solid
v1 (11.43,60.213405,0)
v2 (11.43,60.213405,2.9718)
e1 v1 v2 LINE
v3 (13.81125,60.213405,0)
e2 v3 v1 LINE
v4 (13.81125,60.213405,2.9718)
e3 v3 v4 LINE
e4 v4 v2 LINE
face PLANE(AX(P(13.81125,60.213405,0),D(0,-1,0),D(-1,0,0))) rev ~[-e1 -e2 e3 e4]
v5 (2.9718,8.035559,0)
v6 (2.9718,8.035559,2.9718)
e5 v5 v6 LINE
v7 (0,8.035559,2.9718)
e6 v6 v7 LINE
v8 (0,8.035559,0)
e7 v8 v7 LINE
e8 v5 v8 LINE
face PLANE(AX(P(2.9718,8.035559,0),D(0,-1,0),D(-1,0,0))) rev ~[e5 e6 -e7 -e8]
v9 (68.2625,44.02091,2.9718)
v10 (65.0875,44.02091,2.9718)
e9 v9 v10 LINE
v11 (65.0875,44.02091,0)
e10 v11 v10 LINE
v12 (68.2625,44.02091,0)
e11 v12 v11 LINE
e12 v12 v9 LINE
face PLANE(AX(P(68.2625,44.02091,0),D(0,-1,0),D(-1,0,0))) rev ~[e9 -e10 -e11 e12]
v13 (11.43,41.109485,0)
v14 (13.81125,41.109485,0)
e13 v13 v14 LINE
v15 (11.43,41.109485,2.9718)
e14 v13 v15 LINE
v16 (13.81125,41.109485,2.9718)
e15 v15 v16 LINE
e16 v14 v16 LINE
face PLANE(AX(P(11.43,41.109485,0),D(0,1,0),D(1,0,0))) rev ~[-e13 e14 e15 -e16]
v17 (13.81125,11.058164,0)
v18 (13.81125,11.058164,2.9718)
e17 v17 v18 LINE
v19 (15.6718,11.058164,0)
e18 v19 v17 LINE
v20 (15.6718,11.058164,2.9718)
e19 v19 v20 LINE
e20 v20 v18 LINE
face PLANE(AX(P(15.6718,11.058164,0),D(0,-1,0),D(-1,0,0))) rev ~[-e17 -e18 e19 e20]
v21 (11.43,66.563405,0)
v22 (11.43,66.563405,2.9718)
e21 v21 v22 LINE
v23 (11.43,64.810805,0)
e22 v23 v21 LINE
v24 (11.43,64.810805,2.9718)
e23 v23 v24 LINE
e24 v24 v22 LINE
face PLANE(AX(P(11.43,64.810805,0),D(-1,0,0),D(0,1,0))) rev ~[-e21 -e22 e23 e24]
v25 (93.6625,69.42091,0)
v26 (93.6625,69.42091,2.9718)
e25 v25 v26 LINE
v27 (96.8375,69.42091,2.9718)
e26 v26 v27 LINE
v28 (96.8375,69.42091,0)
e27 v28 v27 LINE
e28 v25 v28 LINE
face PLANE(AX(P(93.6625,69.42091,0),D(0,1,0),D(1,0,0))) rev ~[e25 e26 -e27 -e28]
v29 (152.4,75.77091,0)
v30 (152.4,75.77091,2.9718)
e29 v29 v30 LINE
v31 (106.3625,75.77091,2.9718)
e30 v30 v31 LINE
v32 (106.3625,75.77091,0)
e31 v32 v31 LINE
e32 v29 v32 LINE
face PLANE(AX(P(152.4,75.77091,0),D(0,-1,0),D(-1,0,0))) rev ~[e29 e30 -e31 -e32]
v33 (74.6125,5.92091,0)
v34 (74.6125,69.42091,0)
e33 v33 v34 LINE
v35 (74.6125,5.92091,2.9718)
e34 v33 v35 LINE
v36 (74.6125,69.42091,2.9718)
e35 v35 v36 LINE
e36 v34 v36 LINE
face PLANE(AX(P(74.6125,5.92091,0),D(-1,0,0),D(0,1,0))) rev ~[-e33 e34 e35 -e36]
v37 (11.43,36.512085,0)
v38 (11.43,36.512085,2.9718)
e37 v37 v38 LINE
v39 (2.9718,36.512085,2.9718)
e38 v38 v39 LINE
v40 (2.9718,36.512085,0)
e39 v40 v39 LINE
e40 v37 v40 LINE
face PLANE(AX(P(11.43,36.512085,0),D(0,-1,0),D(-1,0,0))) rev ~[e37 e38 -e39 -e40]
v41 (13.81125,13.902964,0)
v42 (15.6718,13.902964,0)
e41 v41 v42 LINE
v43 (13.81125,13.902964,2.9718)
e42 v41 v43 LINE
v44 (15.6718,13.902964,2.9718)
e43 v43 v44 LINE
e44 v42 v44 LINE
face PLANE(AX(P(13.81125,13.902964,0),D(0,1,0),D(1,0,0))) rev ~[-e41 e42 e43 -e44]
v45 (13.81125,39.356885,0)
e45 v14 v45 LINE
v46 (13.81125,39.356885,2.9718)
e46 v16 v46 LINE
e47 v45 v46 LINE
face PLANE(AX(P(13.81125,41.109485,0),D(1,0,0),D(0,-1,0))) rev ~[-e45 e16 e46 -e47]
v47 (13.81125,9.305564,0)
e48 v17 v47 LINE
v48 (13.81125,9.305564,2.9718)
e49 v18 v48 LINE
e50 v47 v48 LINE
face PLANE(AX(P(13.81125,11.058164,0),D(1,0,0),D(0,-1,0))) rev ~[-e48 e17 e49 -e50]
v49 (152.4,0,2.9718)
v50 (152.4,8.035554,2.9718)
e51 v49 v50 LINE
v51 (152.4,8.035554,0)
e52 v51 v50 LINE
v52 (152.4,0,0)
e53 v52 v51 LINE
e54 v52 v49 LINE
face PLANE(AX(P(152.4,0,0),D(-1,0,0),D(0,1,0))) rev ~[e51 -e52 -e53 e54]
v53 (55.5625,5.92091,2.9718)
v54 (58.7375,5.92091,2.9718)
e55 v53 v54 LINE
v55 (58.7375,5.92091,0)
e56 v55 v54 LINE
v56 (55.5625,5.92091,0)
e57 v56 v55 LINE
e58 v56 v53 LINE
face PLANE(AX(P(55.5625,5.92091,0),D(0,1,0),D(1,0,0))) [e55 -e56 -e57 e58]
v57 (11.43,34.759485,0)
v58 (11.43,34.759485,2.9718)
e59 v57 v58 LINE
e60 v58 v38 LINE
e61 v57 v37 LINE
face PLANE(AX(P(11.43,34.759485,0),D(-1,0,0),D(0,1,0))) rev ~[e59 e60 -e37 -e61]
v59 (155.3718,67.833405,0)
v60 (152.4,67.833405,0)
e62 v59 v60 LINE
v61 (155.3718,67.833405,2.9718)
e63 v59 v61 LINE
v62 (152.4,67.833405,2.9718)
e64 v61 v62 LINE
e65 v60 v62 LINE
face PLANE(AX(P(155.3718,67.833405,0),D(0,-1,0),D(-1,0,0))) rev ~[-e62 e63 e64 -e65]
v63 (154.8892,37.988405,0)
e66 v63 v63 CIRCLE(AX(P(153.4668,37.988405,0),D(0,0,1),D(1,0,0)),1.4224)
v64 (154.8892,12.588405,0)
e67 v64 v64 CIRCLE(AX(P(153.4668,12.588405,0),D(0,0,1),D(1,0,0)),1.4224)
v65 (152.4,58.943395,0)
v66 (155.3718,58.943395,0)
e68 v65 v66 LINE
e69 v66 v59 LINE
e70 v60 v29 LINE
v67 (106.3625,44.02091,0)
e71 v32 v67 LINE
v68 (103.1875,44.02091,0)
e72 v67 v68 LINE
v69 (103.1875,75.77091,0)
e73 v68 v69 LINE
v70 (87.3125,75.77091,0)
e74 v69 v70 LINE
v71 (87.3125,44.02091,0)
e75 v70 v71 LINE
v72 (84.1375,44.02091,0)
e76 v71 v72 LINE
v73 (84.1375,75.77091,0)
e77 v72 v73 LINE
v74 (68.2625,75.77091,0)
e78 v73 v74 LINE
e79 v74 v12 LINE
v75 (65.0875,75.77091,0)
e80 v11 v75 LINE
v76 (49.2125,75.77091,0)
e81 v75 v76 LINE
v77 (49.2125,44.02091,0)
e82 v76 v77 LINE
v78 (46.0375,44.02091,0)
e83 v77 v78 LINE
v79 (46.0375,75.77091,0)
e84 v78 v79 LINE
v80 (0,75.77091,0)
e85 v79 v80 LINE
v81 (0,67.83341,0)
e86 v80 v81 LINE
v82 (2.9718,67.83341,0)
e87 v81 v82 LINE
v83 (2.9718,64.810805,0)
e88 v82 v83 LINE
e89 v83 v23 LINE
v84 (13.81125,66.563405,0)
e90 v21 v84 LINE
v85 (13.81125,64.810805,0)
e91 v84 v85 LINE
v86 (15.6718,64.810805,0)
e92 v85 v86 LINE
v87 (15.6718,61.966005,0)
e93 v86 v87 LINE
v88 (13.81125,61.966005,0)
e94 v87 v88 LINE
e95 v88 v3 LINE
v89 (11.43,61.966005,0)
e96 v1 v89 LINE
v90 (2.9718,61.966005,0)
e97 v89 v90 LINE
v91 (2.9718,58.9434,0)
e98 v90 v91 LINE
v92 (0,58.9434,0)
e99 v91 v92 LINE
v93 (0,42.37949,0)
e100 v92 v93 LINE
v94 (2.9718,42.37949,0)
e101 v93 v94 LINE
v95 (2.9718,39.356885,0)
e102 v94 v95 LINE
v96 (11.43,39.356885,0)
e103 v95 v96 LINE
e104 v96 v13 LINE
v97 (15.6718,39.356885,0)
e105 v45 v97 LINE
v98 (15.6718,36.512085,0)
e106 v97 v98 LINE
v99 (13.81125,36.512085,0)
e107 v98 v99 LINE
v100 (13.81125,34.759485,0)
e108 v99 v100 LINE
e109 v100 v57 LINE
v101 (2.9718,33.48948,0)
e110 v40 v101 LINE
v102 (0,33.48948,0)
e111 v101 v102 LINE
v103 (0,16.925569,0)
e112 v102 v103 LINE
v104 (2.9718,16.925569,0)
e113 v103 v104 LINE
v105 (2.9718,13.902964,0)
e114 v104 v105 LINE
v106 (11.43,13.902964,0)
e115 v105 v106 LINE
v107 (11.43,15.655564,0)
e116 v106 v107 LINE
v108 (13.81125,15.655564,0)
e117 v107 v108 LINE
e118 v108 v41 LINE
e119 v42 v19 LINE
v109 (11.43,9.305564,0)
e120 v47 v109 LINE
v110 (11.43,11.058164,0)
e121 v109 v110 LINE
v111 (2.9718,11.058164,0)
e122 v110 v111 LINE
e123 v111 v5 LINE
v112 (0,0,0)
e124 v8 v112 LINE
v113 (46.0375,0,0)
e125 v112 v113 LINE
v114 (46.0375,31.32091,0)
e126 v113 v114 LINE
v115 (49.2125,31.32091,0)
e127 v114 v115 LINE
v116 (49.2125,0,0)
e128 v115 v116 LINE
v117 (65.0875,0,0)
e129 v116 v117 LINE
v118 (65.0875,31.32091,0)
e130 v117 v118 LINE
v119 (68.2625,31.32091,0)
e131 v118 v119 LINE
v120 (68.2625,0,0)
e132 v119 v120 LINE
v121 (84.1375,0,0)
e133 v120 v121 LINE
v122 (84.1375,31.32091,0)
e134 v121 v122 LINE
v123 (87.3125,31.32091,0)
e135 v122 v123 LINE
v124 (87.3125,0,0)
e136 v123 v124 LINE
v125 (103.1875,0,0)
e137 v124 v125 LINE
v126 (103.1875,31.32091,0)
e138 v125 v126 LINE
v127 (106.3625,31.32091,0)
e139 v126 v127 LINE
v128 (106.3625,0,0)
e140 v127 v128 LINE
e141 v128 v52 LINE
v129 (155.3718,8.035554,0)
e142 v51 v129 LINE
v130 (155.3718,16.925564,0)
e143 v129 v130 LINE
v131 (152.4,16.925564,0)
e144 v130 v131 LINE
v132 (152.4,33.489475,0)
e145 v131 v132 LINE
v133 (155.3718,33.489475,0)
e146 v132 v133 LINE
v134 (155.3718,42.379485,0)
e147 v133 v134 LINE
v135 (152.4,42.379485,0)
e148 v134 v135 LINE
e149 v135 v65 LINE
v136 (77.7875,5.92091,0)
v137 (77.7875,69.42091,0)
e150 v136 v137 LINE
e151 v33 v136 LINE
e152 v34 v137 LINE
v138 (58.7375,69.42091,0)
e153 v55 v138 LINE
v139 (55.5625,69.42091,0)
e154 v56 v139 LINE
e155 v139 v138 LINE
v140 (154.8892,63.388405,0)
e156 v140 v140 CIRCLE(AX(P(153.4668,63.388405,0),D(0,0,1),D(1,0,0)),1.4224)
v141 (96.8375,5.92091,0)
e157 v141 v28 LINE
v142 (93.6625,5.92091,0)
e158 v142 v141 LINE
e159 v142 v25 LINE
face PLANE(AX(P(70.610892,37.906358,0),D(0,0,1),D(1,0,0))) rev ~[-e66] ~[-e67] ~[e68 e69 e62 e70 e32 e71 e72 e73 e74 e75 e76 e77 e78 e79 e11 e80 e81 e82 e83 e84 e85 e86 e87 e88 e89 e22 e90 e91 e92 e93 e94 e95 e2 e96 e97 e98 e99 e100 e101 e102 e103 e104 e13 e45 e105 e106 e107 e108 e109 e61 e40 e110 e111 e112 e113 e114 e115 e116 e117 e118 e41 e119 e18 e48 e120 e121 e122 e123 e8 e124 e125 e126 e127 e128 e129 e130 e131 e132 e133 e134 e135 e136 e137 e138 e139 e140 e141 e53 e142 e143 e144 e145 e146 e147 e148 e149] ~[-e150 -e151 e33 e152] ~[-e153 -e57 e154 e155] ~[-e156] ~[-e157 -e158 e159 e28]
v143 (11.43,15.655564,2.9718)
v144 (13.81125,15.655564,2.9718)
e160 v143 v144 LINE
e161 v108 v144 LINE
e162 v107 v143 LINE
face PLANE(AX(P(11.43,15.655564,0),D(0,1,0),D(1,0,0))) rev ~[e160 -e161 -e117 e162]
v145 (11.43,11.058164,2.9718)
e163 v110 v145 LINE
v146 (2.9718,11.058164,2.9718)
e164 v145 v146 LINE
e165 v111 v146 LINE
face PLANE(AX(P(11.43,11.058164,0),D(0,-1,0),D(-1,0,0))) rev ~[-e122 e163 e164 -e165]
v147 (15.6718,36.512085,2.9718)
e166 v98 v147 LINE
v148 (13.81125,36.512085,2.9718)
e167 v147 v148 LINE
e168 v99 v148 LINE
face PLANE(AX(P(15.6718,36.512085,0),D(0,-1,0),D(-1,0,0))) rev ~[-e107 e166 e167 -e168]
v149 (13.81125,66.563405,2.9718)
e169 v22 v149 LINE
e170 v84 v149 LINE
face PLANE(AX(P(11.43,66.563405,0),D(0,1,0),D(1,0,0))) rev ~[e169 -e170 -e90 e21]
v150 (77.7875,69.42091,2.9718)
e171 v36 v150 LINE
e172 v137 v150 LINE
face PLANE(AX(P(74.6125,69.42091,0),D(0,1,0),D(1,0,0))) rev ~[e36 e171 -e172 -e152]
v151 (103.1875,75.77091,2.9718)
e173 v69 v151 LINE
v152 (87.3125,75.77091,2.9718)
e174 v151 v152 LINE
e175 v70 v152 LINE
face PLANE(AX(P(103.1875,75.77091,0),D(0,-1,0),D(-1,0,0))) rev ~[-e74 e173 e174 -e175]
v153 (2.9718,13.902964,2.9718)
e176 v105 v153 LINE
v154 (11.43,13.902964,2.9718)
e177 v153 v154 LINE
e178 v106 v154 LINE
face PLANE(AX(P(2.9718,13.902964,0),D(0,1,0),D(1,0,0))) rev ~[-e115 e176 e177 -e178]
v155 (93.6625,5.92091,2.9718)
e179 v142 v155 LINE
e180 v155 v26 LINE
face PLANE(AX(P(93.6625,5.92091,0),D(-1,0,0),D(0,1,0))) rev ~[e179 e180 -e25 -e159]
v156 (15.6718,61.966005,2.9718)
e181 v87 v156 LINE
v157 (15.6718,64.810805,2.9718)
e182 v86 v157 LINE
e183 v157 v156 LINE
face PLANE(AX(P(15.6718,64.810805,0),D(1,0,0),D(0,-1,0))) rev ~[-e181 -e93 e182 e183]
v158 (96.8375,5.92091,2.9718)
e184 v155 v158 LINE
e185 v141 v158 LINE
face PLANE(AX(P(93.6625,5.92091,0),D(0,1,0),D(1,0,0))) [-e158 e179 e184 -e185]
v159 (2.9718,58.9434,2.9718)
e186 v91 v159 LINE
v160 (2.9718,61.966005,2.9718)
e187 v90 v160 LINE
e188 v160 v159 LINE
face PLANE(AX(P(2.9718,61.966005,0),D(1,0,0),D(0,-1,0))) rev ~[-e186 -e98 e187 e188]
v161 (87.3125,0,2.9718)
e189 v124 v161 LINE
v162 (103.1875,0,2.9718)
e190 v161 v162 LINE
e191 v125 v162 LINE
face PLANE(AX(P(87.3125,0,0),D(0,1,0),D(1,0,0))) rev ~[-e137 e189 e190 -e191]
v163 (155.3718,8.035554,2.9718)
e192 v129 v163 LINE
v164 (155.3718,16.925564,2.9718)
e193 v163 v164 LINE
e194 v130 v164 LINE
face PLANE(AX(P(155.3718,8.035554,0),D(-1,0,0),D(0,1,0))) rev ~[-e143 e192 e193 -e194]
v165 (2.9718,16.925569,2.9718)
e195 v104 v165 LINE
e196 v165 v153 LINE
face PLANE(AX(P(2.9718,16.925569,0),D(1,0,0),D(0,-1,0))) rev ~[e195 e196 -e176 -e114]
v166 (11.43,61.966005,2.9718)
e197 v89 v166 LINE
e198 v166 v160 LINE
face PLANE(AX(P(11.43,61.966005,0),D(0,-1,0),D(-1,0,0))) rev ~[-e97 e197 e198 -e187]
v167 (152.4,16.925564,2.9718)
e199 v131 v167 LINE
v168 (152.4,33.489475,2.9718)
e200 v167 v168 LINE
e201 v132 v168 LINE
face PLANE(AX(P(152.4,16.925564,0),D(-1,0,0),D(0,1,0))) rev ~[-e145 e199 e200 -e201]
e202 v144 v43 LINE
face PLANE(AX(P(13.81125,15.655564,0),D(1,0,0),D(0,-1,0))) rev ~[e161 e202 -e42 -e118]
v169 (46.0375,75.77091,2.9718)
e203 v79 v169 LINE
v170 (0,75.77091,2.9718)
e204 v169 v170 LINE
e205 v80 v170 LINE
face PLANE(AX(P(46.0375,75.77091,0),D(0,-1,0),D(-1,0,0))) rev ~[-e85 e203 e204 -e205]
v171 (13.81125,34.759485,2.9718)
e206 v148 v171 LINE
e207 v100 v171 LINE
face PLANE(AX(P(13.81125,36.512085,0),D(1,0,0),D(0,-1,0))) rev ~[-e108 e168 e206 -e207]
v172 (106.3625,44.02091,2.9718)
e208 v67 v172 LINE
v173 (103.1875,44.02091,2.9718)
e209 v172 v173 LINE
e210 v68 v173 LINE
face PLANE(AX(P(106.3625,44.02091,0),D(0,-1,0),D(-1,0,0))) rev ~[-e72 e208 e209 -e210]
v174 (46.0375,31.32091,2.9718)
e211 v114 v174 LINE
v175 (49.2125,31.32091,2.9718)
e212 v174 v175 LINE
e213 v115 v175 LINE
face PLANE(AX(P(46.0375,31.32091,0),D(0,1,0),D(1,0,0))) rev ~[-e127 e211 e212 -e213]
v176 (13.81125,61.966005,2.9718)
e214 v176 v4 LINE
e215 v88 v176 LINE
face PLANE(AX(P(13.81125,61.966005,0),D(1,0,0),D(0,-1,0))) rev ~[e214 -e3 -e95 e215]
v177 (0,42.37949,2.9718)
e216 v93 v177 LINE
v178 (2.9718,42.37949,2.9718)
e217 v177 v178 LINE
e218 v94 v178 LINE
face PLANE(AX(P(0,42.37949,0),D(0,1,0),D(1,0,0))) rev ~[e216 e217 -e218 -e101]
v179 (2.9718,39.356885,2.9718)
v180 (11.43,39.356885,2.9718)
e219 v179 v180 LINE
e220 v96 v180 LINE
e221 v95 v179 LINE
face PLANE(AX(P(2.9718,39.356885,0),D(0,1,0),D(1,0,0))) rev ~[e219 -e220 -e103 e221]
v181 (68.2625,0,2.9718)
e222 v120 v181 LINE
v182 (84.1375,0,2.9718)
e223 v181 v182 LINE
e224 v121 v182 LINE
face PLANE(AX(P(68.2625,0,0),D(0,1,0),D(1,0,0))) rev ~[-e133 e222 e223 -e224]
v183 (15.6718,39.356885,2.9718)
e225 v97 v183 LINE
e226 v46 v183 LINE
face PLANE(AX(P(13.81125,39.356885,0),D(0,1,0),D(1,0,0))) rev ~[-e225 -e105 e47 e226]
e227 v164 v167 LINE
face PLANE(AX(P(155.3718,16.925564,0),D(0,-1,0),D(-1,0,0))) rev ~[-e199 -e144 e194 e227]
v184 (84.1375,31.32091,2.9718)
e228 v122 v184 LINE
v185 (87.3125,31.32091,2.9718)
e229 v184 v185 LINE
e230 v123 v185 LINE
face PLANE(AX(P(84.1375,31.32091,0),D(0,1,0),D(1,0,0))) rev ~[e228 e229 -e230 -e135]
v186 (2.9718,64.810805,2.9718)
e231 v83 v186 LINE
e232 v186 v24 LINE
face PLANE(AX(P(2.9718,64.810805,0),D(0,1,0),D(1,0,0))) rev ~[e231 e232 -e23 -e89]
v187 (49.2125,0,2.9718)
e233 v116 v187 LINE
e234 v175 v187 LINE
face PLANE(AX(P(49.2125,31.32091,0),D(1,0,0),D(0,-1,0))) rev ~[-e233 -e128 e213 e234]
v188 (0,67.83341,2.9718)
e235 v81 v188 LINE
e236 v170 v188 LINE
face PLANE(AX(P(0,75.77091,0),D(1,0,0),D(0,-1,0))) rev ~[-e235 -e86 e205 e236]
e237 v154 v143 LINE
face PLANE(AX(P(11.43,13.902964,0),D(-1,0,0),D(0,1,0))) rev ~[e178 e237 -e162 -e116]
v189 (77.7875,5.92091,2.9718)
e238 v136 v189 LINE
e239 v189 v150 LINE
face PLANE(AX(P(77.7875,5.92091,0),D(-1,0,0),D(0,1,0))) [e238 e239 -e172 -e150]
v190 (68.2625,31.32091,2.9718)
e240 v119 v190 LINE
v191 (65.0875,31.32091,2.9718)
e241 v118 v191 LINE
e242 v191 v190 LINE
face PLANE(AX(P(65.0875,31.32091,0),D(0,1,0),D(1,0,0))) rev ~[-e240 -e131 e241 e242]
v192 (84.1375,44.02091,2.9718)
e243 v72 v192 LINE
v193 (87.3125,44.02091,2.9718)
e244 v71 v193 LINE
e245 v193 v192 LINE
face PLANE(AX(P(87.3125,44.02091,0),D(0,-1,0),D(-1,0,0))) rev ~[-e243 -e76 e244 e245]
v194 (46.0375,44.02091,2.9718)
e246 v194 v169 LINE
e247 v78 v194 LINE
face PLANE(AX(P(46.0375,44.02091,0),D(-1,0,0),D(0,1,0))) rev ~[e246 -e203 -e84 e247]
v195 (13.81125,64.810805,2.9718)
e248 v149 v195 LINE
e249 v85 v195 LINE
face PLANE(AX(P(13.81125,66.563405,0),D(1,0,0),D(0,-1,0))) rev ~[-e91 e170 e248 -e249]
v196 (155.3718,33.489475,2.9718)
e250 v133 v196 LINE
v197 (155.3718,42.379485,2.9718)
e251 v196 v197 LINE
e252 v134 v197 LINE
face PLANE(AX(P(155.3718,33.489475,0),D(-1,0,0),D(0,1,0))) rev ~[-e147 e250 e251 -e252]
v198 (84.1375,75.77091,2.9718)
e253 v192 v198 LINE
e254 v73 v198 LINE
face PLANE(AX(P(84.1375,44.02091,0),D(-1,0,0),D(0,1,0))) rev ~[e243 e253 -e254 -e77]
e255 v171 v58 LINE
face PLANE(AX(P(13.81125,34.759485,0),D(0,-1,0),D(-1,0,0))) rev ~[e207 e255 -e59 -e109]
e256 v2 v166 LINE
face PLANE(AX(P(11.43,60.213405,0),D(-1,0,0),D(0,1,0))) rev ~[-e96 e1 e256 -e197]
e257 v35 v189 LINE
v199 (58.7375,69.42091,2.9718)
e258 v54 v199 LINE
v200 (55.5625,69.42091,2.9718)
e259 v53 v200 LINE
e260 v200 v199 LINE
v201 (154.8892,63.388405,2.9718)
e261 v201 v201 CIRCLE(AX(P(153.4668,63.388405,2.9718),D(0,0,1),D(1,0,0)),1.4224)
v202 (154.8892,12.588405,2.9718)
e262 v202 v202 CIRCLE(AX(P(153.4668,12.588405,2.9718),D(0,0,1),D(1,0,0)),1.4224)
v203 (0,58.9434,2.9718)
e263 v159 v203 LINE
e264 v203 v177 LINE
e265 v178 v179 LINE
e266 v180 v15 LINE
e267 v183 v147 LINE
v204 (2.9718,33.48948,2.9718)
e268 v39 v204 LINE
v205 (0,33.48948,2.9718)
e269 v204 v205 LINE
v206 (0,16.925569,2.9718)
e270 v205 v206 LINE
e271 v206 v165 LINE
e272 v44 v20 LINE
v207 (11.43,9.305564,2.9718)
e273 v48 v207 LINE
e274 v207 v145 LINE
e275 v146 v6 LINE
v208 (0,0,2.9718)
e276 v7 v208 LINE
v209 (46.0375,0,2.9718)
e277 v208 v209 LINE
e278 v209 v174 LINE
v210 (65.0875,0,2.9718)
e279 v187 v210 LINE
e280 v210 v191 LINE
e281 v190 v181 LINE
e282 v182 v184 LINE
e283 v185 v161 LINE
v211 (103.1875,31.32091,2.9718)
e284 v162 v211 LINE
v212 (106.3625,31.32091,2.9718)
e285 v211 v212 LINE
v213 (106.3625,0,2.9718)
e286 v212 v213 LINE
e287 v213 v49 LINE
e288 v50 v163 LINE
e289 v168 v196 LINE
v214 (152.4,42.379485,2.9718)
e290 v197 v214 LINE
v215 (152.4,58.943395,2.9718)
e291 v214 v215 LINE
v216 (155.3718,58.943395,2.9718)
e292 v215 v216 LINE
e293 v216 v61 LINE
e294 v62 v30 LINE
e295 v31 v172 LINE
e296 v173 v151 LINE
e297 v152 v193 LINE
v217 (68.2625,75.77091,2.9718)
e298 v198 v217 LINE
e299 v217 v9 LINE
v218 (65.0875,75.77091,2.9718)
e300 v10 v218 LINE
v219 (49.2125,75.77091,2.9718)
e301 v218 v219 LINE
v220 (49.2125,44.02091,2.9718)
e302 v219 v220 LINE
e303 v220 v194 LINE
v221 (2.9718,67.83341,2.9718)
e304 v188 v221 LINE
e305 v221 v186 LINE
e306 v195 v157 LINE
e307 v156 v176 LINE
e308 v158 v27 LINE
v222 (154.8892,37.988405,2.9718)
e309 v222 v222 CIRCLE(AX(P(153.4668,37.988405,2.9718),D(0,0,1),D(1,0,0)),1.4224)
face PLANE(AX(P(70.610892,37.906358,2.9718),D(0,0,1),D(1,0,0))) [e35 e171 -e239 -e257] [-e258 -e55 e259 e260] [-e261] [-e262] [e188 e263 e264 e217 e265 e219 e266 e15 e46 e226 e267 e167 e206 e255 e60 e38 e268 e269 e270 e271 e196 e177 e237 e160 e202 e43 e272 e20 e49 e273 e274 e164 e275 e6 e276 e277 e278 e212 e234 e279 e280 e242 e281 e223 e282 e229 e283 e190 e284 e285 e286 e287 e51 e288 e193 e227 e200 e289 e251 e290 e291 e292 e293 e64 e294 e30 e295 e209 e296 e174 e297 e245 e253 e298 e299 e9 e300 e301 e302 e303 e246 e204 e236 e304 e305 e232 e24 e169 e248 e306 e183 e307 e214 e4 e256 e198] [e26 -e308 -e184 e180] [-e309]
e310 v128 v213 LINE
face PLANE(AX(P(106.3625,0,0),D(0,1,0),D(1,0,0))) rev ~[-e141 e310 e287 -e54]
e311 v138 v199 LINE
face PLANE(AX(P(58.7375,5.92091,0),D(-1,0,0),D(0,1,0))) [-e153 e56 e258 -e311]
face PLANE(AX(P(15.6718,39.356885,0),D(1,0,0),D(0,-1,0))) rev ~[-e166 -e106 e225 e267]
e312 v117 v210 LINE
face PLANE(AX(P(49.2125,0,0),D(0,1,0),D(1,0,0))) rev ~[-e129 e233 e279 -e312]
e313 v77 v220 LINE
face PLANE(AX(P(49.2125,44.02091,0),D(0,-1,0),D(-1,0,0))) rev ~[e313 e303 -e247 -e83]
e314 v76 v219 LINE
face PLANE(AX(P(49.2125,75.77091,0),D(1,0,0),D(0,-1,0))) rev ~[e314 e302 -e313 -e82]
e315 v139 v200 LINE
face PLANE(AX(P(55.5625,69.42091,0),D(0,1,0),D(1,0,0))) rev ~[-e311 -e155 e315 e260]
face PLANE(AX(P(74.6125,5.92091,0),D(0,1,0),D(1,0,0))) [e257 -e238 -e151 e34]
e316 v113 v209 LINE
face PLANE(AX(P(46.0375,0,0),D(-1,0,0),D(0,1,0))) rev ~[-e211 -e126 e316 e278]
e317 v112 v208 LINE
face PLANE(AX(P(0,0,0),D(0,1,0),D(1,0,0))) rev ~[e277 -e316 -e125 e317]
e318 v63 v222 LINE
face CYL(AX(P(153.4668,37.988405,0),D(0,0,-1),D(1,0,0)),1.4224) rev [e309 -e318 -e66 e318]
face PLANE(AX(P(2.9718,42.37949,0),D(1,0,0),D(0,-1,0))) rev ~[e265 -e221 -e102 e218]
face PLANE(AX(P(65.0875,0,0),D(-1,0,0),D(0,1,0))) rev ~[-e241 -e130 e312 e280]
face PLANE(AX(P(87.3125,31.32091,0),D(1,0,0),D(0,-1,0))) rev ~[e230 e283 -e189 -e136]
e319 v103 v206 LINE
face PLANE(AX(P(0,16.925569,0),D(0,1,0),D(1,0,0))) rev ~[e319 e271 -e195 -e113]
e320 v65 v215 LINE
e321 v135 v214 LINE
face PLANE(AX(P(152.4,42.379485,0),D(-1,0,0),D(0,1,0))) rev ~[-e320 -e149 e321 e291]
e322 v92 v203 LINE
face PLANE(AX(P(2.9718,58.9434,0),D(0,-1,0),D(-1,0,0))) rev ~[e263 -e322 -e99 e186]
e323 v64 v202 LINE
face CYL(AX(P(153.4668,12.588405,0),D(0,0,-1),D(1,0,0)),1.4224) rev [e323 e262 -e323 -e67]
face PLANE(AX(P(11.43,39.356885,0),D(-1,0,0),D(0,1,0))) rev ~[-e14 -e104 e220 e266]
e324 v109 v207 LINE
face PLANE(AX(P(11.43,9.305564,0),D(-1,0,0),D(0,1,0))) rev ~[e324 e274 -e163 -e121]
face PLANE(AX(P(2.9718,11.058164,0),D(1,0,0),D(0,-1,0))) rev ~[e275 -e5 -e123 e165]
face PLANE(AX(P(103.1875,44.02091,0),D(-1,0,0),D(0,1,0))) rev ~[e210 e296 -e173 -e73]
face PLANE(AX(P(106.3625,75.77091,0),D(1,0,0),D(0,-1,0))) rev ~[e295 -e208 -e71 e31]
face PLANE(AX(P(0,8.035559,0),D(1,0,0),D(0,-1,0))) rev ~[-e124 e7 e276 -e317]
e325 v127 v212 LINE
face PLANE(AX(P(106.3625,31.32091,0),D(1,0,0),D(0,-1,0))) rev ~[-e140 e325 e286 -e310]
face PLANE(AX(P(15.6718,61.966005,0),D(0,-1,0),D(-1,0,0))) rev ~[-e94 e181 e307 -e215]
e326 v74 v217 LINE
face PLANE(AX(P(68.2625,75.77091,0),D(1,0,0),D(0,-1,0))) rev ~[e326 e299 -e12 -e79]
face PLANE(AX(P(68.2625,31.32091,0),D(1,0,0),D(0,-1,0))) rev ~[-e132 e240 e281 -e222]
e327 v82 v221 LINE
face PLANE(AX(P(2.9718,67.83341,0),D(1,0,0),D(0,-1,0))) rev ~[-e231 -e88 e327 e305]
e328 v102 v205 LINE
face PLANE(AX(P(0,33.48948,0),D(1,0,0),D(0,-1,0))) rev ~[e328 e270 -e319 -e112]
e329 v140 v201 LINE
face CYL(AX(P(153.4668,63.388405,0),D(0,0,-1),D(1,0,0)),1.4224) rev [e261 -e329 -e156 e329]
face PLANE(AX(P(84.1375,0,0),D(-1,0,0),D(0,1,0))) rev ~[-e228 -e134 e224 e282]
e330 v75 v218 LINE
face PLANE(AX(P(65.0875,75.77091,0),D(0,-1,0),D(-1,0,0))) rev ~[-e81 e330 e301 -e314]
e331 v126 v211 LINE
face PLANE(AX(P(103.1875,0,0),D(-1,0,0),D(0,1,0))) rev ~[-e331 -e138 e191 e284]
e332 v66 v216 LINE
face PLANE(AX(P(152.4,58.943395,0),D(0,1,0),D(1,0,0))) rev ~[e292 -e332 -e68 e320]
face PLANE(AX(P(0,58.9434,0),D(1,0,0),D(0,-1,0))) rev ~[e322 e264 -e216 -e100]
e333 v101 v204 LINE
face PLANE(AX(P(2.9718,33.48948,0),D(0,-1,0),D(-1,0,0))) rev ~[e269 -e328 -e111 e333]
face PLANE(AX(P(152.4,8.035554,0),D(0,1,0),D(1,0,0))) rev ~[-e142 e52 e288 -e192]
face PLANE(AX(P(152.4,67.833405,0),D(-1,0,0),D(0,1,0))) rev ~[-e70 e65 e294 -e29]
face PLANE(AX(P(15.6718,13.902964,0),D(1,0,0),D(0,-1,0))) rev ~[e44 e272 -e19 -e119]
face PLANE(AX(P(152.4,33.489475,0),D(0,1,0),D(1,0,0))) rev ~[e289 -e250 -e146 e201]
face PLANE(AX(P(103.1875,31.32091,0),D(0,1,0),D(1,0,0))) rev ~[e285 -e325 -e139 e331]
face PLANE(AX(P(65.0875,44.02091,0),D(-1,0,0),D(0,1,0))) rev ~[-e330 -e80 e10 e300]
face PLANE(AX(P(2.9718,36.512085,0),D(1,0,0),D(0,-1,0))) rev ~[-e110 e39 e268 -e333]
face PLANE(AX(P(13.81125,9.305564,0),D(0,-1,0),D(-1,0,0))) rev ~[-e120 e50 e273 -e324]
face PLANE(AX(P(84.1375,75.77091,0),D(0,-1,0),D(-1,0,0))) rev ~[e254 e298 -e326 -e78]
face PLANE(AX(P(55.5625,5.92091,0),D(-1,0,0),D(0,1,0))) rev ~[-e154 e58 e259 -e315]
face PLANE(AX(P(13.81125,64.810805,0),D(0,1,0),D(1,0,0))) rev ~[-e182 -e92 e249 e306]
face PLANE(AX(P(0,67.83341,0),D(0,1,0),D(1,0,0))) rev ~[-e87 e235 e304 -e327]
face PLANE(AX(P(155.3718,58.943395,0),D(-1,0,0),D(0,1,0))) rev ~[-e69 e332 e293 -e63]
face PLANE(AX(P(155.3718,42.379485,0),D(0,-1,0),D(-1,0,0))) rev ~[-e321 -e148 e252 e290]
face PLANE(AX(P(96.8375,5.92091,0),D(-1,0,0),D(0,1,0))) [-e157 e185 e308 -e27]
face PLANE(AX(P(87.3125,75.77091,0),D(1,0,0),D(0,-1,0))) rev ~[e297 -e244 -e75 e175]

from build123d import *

# Parameters (mm, degrees)
F0_W     = 3.175
F0_H     = 63.5
F0_R     = 1.4224
F1_DEPTH = 2.9718


with BuildPart() as f1:
    # F0 (on Top) → F1 (new body)
    with BuildSketch(Plane.XY):
        Polygon((0, 8.035559), (0, 0), (46.0375, 0), (46.0375, 31.32091), (49.2125, 31.32091), (49.2125, 0), (65.0875, 0), (65.0875, 31.32091), (68.2625, 31.32091), (68.2625, 0), (84.1375, 0), (84.1375, 31.32091), (87.3125, 31.32091), (87.3125, 0), (103.1875, 0), (103.1875, 31.32091), (106.3625, 31.32091), (106.3625, 0), (152.4, 0), (152.4, 8.035554), (155.3718, 8.035554), (155.3718, 11.058159), (155.3718, 13.902959), (155.3718, 16.925564), (152.4, 16.925564), (152.4, 33.489475), (155.3718, 33.489475), (155.3718, 36.51208), (155.3718, 39.35688), (155.3718, 42.379485), (152.4, 42.379485), (152.4, 58.943395), (155.3718, 58.943395), (155.3718, 61.966), (155.3718, 64.8108), (155.3718, 67.833405), (152.4, 67.833405), (152.4, 75.77091), (106.3625, 75.77091), (106.3625, 44.02091), (103.1875, 44.02091), (103.1875, 75.77091), (87.3125, 75.77091), (87.3125, 44.02091), (84.1375, 44.02091), (84.1375, 75.77091), (68.2625, 75.77091), (68.2625, 44.02091), (65.0875, 44.02091), (65.0875, 75.77091), (49.2125, 75.77091), (49.2125, 44.02091), (46.0375, 44.02091), (46.0375, 75.77091), (0, 75.77091), (0, 67.83341), (2.9718, 67.83341), (2.9718, 64.810805), (11.43, 64.810805), (11.43, 66.563405), (13.81125, 66.563405), (13.81125, 64.810805), (15.6718, 64.810805), (15.6718, 61.966005), (13.81125, 61.966005), (13.81125, 60.213405), (11.43, 60.213405), (11.43, 61.966005), (2.9718, 61.966005), (2.9718, 58.9434), (0, 58.9434), (0, 42.37949), (2.9718, 42.37949), (2.9718, 39.356885), (11.43, 39.356885), (11.43, 41.109485), (13.81125, 41.109485), (13.81125, 39.356885), (15.6718, 39.356885), (15.6718, 36.512085), (13.81125, 36.512085), (13.81125, 34.759485), (11.43, 34.759485), (11.43, 36.512085), (2.9718, 36.512085), (2.9718, 33.48948), (0, 33.48948), (0, 16.925569), (2.9718, 16.925569), (2.9718, 13.902964), (11.43, 13.902964), (11.43, 15.655564), (13.81125, 15.655564), (13.81125, 13.902964), (15.6718, 13.902964), (15.6718, 11.058164), (13.81125, 11.058164), (13.81125, 9.305564), (11.43, 9.305564), (11.43, 11.058164), (2.9718, 11.058164), (2.9718, 8.035559), align=None)
        with Locations((57.15, 37.67091)):
            Rectangle(F0_W, F0_H, mode=Mode.SUBTRACT)
        with Locations((76.2, 37.67091)):
            Rectangle(F0_W, F0_H, mode=Mode.SUBTRACT)
        with Locations((153.4668, 12.588405)):
            Circle(F0_R, mode=Mode.SUBTRACT)
        with Locations((95.25, 37.67091)):
            Rectangle(F0_W, F0_H, mode=Mode.SUBTRACT)
        with Locations((153.4668, 37.988405)):
            Circle(F0_R, mode=Mode.SUBTRACT)
        with Locations((153.4668, 63.388405)):
            Circle(F0_R, mode=Mode.SUBTRACT)
    extrude(amount=F1_DEPTH)


solid = f1.part
